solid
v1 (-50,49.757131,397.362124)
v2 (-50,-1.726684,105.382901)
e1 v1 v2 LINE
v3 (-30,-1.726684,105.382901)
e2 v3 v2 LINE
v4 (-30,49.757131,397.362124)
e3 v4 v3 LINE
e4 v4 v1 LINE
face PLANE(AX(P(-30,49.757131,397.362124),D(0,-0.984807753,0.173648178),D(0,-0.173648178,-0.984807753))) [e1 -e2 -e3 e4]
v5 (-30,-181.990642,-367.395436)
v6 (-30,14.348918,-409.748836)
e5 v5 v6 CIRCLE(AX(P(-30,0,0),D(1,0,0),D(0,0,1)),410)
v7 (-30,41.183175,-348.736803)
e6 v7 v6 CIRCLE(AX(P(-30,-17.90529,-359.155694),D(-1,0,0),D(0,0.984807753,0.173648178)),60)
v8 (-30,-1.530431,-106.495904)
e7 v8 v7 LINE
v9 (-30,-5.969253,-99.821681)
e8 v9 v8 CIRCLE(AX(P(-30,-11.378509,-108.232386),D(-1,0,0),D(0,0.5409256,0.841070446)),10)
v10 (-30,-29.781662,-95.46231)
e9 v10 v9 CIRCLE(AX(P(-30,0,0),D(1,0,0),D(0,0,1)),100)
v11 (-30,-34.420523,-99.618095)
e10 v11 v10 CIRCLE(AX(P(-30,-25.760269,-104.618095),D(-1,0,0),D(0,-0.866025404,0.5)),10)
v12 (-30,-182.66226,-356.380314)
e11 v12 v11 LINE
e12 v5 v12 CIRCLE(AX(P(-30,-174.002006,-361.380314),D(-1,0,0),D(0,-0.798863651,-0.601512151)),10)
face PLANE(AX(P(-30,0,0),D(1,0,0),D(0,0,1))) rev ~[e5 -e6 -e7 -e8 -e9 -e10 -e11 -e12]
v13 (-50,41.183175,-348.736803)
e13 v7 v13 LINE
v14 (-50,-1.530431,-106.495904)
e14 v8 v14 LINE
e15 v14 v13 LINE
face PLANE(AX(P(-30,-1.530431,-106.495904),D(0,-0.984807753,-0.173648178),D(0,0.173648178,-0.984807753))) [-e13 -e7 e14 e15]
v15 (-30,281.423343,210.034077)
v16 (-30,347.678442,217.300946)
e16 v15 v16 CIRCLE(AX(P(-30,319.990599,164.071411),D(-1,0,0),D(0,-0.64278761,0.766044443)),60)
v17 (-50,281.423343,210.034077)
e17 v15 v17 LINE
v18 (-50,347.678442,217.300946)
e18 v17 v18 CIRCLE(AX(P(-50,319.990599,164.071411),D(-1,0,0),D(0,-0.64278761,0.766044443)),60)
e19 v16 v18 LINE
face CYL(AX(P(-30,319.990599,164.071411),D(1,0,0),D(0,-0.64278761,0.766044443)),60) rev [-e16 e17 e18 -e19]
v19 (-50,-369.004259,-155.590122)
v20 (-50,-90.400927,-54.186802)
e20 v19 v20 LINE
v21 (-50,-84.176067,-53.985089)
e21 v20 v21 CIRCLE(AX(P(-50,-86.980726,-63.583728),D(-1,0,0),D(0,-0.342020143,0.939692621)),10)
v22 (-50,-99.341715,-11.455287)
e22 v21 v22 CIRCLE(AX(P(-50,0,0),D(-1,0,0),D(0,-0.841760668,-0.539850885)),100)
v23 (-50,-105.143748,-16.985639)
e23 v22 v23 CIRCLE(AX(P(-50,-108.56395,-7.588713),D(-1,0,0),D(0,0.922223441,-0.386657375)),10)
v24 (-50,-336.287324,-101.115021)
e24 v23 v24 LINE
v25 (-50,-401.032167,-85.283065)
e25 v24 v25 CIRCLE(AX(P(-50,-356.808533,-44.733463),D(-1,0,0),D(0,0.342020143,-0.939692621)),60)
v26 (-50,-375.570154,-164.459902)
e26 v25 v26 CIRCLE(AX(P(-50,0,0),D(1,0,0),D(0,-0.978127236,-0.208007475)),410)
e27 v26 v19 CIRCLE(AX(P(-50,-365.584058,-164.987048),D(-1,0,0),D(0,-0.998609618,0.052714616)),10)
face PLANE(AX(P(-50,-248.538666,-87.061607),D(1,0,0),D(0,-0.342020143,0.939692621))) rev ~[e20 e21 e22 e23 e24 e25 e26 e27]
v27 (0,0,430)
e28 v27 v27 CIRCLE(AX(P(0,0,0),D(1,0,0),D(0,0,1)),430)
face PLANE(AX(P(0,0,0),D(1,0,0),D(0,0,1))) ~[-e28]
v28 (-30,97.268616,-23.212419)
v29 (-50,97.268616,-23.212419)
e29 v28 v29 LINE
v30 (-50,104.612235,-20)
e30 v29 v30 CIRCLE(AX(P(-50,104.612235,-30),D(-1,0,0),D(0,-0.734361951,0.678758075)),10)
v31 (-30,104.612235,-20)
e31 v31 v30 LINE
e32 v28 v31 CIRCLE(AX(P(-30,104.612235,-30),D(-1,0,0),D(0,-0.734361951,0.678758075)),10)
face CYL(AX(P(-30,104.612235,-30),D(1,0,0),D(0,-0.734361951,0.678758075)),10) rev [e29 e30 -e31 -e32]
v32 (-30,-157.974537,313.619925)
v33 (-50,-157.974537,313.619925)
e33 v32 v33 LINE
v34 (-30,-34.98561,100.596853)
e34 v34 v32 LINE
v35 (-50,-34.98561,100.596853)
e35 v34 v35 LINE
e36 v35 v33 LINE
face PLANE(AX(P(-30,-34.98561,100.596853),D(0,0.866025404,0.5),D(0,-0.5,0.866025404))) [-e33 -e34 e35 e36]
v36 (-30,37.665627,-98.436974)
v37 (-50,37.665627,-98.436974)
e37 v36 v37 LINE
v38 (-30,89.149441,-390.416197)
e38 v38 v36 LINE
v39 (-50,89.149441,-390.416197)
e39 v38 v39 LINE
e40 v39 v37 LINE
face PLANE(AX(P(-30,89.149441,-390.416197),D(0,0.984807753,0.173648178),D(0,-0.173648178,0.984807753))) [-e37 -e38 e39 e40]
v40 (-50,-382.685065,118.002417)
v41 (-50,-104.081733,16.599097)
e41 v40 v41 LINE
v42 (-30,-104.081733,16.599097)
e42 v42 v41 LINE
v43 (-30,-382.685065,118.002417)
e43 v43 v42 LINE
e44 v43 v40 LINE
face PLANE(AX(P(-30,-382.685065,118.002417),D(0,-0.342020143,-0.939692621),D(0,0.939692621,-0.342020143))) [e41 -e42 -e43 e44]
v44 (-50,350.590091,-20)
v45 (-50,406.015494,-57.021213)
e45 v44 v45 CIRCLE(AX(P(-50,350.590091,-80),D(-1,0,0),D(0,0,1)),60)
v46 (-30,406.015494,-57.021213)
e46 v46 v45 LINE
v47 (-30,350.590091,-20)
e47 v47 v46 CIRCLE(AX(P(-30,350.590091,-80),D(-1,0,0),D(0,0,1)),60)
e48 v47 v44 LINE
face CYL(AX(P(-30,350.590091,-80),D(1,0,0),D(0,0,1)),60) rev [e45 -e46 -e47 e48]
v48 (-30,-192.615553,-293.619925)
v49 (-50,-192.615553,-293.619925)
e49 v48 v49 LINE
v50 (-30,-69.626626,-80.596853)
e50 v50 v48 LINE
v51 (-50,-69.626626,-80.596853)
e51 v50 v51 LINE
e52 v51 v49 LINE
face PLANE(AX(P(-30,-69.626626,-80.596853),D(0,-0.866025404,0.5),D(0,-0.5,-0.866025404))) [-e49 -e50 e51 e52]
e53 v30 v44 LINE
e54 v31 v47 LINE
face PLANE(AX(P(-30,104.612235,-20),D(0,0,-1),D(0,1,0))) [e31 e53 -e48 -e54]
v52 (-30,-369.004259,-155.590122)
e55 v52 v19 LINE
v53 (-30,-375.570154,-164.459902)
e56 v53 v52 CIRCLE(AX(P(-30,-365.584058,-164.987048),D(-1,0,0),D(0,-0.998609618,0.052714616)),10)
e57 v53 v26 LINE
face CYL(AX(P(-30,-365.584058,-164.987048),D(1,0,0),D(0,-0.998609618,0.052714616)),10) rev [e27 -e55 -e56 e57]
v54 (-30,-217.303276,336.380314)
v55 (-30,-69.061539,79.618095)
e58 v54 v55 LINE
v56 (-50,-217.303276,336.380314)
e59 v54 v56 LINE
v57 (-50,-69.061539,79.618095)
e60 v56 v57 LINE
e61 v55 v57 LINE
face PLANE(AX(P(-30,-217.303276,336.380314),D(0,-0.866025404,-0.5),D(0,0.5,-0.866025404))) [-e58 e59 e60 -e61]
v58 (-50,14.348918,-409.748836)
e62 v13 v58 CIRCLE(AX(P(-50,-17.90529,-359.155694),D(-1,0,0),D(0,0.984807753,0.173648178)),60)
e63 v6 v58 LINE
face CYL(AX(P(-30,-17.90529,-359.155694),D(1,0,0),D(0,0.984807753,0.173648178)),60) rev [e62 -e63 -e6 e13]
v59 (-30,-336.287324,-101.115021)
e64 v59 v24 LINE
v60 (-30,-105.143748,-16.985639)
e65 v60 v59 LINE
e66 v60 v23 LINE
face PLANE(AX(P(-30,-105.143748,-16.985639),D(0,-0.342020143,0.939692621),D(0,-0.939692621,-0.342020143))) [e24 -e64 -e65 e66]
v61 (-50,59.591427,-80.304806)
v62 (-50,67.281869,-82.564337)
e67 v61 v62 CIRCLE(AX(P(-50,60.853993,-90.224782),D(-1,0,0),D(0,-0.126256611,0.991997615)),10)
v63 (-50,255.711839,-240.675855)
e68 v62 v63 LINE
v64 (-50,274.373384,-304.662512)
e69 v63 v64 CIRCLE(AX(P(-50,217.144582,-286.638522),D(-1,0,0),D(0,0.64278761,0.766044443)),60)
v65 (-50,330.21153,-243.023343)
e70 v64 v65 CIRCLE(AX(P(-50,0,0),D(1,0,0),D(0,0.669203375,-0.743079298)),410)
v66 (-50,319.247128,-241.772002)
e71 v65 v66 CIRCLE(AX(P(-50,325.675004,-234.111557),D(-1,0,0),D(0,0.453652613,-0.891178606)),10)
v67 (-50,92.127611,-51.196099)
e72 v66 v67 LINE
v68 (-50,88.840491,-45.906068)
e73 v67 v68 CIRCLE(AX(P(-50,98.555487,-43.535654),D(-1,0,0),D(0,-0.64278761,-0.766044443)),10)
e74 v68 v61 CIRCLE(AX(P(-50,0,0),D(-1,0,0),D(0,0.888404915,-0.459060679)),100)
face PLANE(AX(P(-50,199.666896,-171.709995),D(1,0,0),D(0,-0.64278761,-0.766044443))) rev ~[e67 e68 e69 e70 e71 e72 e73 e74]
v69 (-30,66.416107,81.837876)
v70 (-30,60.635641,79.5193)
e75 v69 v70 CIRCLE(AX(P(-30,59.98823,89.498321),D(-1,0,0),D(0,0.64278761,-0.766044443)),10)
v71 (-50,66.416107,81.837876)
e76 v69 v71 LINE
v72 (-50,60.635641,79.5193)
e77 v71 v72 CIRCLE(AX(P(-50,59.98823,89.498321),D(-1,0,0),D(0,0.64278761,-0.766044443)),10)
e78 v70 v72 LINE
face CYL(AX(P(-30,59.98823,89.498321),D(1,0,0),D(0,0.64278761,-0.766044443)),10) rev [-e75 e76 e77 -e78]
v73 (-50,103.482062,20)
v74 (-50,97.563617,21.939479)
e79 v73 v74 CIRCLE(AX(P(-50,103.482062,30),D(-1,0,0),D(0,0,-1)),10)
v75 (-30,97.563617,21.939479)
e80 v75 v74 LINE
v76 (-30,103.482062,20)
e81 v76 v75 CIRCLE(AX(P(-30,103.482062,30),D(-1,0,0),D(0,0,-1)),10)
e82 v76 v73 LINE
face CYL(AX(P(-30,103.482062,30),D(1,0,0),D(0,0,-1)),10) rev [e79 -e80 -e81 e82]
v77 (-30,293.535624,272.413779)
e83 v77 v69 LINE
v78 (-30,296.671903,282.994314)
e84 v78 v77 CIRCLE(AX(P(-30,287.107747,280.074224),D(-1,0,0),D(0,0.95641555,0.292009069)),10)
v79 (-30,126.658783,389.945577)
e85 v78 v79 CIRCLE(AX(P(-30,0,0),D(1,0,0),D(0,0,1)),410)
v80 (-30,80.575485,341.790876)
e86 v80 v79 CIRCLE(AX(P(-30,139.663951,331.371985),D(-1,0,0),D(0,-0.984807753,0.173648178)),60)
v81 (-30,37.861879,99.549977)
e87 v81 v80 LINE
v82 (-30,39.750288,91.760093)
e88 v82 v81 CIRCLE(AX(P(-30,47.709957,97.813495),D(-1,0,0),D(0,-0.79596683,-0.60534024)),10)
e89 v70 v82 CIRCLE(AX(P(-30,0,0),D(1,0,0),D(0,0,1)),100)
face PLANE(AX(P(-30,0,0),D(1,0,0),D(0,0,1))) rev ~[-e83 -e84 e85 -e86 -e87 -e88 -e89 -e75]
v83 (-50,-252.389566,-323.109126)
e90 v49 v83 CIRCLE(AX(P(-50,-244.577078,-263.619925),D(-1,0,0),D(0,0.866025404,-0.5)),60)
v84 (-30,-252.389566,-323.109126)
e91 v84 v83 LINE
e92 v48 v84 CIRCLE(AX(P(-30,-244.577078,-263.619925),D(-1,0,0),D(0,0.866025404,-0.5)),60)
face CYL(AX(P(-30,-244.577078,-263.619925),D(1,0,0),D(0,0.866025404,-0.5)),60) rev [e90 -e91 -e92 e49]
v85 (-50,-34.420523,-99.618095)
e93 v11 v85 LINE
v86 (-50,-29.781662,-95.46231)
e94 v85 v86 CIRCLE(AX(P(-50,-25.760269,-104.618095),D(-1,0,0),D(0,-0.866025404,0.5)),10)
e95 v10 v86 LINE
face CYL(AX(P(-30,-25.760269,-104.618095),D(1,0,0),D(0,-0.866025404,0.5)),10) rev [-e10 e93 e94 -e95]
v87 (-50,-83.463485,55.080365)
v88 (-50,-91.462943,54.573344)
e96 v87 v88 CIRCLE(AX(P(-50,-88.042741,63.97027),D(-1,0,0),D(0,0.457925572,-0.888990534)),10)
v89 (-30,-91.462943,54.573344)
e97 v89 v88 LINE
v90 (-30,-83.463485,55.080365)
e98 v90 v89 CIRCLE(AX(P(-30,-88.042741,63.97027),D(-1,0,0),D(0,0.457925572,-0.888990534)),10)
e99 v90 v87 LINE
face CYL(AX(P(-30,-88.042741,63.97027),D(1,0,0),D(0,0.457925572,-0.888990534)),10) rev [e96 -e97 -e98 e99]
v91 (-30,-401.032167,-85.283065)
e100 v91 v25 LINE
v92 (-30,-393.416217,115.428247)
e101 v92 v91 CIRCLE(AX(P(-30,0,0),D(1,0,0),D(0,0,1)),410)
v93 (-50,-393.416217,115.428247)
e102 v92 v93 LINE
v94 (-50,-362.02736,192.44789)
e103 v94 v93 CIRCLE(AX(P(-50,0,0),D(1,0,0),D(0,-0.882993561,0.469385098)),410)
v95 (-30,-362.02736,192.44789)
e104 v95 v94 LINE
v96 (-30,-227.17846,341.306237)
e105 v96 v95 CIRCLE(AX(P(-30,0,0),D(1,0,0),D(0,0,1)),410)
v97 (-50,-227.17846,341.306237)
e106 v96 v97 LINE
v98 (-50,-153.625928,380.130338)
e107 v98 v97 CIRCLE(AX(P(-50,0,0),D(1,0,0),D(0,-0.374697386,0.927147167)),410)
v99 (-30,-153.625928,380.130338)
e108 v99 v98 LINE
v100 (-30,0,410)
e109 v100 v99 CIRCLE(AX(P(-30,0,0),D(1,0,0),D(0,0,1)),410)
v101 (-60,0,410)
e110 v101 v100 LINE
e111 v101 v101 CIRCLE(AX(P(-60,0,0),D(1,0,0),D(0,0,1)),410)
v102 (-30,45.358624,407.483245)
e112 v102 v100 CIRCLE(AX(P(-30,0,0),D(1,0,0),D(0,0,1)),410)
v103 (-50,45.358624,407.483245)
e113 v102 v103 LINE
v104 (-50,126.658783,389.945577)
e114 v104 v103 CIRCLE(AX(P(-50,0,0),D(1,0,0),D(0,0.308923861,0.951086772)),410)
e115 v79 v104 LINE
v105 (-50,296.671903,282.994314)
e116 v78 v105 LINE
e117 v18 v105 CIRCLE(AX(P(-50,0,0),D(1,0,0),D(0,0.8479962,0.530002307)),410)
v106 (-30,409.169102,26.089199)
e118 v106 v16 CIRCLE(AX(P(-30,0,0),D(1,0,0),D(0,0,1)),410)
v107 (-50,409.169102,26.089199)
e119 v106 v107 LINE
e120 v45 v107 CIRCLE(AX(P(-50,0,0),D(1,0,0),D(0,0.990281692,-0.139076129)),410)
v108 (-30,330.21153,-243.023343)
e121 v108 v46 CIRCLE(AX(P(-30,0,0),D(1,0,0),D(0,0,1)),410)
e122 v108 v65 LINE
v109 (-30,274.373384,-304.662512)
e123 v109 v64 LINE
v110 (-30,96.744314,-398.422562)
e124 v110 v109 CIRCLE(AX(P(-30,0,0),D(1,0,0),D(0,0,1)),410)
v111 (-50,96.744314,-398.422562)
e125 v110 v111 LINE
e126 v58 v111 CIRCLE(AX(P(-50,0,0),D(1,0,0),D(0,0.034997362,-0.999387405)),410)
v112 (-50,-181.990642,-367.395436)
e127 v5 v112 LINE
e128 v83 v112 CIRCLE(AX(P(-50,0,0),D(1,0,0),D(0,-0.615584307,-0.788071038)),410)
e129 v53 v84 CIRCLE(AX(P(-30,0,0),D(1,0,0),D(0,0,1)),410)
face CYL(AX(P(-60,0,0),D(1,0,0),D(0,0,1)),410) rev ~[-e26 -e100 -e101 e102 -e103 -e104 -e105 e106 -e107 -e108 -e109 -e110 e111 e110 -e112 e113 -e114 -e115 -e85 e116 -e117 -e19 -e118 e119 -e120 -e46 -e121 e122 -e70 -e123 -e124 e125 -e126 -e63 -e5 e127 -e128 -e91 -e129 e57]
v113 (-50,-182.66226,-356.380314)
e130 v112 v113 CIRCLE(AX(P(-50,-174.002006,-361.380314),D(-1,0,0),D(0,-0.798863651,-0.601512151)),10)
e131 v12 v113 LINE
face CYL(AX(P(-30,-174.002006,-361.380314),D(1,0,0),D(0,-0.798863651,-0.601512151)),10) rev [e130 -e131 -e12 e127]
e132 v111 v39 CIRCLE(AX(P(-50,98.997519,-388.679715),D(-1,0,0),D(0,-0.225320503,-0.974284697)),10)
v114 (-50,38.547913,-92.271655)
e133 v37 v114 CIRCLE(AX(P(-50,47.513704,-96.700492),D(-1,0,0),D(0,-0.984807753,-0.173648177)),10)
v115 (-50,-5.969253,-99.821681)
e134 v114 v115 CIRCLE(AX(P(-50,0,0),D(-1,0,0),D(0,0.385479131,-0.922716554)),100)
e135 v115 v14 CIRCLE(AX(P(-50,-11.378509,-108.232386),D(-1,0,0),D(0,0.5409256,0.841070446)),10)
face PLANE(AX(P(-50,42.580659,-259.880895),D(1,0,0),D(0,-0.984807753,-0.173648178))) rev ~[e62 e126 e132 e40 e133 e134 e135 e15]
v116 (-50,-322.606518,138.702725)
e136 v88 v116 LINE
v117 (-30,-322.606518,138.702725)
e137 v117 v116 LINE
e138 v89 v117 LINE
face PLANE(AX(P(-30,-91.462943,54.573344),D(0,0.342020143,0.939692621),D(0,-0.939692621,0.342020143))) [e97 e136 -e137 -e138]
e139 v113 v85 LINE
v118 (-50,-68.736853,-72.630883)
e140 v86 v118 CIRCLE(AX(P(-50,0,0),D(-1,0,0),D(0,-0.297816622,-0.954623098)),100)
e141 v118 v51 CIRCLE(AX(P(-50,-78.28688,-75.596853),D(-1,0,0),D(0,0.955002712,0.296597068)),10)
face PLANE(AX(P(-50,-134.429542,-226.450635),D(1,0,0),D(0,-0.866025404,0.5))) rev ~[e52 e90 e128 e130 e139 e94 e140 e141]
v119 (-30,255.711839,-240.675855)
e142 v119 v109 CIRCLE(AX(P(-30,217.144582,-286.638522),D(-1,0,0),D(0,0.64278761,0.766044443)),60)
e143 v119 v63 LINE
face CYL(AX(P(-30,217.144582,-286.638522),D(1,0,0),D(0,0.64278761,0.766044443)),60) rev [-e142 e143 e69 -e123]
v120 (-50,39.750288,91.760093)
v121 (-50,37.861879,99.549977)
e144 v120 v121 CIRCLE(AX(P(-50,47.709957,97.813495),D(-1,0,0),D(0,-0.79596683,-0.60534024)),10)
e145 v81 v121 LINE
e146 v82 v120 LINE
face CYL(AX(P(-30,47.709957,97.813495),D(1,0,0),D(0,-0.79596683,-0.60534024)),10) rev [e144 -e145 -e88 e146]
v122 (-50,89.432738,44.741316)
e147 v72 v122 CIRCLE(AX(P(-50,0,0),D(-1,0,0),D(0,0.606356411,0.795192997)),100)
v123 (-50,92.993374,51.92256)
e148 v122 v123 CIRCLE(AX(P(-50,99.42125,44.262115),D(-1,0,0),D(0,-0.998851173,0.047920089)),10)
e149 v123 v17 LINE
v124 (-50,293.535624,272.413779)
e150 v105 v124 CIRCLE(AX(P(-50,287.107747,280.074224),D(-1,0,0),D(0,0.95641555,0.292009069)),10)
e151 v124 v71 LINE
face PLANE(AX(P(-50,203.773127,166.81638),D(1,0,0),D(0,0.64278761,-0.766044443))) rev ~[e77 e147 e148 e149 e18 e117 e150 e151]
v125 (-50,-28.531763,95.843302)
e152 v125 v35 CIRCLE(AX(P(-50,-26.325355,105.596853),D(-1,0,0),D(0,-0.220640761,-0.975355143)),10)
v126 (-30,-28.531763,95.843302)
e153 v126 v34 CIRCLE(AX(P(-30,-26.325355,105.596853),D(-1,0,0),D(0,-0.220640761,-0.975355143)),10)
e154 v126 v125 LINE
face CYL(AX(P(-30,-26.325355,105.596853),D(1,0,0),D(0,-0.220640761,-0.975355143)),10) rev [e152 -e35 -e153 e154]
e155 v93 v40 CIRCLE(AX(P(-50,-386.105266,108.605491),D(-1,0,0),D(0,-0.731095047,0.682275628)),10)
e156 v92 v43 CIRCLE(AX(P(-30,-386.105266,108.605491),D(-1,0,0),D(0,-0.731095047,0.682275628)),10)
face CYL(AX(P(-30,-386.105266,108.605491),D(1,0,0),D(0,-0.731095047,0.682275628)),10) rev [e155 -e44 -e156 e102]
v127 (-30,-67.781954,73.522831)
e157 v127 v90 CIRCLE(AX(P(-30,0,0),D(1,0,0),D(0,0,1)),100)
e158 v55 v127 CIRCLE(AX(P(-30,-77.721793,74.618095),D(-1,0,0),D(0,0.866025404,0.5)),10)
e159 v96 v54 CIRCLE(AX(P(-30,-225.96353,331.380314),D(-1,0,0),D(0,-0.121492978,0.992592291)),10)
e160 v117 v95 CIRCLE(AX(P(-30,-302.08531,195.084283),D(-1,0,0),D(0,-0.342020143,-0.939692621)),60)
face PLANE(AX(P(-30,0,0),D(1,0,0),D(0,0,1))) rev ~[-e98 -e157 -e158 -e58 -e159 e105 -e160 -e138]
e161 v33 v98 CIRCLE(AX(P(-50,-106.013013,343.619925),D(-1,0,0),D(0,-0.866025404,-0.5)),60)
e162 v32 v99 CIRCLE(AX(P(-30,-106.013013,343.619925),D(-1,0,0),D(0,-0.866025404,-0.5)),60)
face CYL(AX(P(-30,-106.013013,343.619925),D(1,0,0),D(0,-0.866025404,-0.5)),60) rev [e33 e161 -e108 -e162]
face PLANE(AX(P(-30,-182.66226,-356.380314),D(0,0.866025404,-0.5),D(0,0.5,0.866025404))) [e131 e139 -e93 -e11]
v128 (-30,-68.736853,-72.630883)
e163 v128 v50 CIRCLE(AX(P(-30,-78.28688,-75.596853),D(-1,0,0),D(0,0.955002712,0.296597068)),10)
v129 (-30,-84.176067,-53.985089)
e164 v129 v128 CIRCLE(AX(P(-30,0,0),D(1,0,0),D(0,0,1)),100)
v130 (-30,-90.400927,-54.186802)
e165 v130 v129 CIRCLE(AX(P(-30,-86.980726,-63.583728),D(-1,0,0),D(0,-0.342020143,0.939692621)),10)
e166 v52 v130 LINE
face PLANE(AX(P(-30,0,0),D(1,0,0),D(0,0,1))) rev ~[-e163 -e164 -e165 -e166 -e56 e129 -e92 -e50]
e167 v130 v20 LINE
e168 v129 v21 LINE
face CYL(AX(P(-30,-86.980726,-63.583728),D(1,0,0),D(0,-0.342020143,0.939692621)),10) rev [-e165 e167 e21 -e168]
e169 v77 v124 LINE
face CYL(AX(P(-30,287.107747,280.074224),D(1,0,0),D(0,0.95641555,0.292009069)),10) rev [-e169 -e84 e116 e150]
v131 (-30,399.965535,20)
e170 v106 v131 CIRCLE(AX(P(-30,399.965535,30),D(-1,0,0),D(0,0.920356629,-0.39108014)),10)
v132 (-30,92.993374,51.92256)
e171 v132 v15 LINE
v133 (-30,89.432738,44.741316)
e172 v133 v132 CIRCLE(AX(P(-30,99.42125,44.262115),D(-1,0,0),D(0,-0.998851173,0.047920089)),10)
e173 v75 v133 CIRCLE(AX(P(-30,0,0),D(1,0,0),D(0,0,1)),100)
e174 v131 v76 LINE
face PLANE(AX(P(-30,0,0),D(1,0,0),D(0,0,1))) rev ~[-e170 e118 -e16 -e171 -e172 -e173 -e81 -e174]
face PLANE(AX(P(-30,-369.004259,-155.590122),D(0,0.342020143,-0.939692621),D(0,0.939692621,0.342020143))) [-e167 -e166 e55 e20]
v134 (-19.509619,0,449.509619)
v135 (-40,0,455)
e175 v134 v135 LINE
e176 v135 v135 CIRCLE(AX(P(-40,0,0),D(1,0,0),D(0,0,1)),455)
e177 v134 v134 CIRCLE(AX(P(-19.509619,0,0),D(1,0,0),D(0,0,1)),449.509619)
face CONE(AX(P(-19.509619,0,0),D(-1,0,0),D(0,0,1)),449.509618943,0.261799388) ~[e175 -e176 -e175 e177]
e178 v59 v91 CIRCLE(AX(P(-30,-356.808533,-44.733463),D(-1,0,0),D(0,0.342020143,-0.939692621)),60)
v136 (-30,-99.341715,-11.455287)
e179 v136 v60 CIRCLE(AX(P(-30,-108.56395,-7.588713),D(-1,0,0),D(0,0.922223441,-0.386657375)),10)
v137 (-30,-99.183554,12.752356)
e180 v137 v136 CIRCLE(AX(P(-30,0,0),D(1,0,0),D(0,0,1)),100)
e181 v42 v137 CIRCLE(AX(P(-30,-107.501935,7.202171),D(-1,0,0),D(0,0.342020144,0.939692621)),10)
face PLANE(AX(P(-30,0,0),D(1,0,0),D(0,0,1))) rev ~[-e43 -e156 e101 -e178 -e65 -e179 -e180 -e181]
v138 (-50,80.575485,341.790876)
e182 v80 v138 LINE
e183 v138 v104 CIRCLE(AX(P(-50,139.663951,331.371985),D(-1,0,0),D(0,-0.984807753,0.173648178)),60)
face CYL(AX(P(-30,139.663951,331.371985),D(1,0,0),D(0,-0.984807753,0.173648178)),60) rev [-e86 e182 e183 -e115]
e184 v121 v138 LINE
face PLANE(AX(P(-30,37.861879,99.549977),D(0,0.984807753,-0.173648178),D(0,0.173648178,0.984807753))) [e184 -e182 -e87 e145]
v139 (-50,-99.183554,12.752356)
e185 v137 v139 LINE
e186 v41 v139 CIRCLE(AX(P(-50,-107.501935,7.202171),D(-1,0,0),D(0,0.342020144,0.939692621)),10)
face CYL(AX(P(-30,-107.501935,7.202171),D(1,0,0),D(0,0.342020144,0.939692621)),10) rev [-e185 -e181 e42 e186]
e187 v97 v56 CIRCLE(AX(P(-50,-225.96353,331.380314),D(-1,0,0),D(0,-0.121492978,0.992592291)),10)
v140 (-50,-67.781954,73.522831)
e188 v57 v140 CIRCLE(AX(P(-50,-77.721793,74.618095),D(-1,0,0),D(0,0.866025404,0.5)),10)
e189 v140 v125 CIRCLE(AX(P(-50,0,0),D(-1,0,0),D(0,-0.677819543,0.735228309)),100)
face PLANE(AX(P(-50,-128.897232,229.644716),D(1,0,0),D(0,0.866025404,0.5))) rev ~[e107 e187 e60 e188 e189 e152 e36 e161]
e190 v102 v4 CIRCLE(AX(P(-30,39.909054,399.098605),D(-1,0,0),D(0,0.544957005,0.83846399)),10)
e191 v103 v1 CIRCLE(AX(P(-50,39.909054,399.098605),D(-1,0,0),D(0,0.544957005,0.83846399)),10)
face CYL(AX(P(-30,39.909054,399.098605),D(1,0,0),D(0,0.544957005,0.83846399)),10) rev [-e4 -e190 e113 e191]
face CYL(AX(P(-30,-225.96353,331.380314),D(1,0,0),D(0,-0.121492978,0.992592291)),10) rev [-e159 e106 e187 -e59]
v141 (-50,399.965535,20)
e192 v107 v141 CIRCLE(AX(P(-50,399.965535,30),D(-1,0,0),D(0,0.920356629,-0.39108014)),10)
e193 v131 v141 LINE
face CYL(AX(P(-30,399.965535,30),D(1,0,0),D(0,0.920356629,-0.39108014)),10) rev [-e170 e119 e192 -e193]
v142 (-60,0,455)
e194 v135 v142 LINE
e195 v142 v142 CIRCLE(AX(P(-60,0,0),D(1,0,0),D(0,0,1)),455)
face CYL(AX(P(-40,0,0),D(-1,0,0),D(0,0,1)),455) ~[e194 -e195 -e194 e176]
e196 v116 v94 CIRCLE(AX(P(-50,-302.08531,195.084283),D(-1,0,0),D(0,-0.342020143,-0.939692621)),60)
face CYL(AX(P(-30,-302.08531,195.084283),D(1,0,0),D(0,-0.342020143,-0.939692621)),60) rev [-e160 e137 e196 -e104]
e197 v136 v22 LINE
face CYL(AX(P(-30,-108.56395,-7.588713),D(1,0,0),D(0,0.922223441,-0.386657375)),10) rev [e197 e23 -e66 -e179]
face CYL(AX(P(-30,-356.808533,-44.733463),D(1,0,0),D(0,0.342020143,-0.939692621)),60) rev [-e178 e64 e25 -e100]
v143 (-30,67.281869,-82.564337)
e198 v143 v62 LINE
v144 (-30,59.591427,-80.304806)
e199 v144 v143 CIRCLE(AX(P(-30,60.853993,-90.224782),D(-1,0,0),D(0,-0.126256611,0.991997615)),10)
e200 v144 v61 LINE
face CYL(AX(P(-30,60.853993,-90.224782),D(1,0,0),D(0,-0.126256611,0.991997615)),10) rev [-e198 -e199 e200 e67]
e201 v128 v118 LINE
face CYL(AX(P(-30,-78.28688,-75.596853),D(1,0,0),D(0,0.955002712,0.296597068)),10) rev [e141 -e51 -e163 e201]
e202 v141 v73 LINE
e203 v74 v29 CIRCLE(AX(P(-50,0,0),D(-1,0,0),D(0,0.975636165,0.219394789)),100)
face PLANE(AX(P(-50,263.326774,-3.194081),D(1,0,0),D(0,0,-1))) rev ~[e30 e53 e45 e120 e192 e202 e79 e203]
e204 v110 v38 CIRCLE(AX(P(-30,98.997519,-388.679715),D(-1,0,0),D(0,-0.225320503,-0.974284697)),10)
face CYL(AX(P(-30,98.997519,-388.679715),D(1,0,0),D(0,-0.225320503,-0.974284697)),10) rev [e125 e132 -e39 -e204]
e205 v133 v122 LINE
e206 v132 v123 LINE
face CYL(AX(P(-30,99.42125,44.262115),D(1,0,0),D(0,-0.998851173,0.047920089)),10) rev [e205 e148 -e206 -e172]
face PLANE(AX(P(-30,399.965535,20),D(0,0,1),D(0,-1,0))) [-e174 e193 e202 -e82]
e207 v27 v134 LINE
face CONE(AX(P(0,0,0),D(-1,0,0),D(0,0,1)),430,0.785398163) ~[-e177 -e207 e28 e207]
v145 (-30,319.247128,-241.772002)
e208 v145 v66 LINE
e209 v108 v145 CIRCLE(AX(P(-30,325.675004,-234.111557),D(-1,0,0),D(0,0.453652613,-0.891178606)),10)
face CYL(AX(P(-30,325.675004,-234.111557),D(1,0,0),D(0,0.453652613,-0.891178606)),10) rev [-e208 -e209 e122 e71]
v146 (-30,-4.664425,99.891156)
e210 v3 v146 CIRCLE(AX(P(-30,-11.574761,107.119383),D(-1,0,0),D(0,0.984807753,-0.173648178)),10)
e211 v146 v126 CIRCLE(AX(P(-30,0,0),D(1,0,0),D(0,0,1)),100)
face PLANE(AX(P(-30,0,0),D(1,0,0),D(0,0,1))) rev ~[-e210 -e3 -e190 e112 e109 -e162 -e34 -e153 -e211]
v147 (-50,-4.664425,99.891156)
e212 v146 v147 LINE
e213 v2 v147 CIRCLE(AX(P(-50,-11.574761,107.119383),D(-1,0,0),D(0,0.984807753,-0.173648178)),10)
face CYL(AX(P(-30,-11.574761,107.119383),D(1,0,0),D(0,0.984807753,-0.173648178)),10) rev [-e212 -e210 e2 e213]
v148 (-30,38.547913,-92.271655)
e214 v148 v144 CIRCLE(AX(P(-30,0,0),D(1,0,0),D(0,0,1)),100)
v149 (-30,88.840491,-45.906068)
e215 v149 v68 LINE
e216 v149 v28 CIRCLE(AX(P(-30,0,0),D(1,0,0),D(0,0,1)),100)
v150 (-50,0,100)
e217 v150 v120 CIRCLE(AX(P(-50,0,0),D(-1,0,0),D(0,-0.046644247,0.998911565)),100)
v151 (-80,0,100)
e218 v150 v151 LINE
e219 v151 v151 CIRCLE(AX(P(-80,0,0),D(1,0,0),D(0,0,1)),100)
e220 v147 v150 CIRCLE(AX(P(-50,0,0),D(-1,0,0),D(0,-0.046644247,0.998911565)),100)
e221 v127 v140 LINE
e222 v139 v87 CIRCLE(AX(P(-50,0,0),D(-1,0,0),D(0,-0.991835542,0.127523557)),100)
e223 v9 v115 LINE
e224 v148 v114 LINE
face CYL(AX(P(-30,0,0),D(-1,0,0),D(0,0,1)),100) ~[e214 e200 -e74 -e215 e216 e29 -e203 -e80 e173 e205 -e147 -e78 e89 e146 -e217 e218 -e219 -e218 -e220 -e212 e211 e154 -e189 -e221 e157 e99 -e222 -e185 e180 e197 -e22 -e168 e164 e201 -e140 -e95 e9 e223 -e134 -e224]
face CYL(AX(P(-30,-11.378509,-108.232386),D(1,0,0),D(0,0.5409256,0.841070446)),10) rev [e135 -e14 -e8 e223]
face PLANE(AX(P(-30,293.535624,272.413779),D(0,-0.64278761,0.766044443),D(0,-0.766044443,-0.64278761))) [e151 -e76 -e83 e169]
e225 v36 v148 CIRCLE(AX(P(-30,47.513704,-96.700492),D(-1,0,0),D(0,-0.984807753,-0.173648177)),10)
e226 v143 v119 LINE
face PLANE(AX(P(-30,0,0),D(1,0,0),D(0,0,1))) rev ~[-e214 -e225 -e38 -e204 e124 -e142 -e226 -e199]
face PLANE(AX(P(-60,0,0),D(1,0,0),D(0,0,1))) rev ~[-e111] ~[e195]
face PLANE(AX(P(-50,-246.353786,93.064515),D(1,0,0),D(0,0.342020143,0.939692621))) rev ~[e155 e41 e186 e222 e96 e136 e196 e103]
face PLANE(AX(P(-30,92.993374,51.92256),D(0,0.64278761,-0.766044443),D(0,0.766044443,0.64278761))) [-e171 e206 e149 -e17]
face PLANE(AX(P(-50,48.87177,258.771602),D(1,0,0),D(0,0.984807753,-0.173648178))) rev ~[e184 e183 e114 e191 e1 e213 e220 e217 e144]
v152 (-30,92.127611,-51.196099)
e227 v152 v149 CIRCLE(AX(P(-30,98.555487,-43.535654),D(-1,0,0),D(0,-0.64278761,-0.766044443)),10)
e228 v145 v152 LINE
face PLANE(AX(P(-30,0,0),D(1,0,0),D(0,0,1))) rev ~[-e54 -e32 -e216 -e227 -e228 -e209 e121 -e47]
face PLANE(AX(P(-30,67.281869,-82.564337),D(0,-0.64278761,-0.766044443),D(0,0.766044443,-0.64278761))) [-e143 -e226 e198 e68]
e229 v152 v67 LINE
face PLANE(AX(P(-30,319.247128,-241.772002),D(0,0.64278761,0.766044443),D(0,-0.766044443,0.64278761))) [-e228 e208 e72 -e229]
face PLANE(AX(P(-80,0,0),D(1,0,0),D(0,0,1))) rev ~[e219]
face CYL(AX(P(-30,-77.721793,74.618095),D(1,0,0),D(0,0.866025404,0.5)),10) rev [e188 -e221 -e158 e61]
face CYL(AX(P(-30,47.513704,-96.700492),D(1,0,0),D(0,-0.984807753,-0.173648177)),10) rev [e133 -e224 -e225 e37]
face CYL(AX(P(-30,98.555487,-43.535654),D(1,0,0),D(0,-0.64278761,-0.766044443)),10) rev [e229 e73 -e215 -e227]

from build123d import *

# Parameters (mm, degrees)
BOSS_EXTRU_1_DEPTH           = 20
R_P_TITION_CIRCULAIRE1_COUNT = 9


with BuildPart() as part:
    # Esquisse1 → Révolution1 (revolve)
    with BuildSketch(Plane.XY, mode=Mode.PRIVATE) as r_volution1_sk:
        Polygon((0, 0), (0, 430), (-19.509618943, 449.509618943), (-40, 455), (-60, 455), (-60, 410), (-30, 410), (-30, 100), (-80, 100), (-80, 0), align=None)
    revolve(r_volution1_sk.sketch.rotate(Axis((-80, 0, 0), (1, 0, 0)), 90), axis=Axis((-80, 0, 0), (1, 0, 0)))

    # Esquisse2 → Boss.-Extru.1 (add)
    with BuildSketch(Plane.ZY.offset(30)):
        with BuildLine():
            Line((-20, 104.612235173), (-20, 350.590090575))
            ThreePointArc((-20, 350.590090575), (-30.106477192, 383.916302208), (-57.021212726, 406.015493915))
            ThreePointArc((-57.021212726, 406.015493915), (-15.546179109, 409.705157784), (26.089198597, 409.169101615))
            ThreePointArc((26.089198597, 409.169101615), (21.660095503, 405.483324106), (20, 399.965535329))
            Line((20, 399.965535329), (20, 103.482062221))
            ThreePointArc((20, 103.482062221), (20.497231695, 100.367998231), (21.939478907, 97.563616504))
            ThreePointArc((21.939478907, 97.563616504), (-0.653338085, 99.997865724), (-23.212419248, 97.268615661))
            ThreePointArc((-23.212419248, 97.268615661), (-20.838236864, 100.60448066), (-20, 104.612235173))
        make_face()
    boss_extru_1 = extrude(amount=BOSS_EXTRU_1_DEPTH)

    # Répétition circulaire1: Boss.-Extru.1 ×9 about axis
    r_p_tition_circulaire1_axis = Axis((0, 0, 0), (1, 0, 0))
    for i in range(1, R_P_TITION_CIRCULAIRE1_COUNT):
        add(boss_extru_1.rotate(r_p_tition_circulaire1_axis, i * 360 / R_P_TITION_CIRCULAIRE1_COUNT))


solid = part.part
